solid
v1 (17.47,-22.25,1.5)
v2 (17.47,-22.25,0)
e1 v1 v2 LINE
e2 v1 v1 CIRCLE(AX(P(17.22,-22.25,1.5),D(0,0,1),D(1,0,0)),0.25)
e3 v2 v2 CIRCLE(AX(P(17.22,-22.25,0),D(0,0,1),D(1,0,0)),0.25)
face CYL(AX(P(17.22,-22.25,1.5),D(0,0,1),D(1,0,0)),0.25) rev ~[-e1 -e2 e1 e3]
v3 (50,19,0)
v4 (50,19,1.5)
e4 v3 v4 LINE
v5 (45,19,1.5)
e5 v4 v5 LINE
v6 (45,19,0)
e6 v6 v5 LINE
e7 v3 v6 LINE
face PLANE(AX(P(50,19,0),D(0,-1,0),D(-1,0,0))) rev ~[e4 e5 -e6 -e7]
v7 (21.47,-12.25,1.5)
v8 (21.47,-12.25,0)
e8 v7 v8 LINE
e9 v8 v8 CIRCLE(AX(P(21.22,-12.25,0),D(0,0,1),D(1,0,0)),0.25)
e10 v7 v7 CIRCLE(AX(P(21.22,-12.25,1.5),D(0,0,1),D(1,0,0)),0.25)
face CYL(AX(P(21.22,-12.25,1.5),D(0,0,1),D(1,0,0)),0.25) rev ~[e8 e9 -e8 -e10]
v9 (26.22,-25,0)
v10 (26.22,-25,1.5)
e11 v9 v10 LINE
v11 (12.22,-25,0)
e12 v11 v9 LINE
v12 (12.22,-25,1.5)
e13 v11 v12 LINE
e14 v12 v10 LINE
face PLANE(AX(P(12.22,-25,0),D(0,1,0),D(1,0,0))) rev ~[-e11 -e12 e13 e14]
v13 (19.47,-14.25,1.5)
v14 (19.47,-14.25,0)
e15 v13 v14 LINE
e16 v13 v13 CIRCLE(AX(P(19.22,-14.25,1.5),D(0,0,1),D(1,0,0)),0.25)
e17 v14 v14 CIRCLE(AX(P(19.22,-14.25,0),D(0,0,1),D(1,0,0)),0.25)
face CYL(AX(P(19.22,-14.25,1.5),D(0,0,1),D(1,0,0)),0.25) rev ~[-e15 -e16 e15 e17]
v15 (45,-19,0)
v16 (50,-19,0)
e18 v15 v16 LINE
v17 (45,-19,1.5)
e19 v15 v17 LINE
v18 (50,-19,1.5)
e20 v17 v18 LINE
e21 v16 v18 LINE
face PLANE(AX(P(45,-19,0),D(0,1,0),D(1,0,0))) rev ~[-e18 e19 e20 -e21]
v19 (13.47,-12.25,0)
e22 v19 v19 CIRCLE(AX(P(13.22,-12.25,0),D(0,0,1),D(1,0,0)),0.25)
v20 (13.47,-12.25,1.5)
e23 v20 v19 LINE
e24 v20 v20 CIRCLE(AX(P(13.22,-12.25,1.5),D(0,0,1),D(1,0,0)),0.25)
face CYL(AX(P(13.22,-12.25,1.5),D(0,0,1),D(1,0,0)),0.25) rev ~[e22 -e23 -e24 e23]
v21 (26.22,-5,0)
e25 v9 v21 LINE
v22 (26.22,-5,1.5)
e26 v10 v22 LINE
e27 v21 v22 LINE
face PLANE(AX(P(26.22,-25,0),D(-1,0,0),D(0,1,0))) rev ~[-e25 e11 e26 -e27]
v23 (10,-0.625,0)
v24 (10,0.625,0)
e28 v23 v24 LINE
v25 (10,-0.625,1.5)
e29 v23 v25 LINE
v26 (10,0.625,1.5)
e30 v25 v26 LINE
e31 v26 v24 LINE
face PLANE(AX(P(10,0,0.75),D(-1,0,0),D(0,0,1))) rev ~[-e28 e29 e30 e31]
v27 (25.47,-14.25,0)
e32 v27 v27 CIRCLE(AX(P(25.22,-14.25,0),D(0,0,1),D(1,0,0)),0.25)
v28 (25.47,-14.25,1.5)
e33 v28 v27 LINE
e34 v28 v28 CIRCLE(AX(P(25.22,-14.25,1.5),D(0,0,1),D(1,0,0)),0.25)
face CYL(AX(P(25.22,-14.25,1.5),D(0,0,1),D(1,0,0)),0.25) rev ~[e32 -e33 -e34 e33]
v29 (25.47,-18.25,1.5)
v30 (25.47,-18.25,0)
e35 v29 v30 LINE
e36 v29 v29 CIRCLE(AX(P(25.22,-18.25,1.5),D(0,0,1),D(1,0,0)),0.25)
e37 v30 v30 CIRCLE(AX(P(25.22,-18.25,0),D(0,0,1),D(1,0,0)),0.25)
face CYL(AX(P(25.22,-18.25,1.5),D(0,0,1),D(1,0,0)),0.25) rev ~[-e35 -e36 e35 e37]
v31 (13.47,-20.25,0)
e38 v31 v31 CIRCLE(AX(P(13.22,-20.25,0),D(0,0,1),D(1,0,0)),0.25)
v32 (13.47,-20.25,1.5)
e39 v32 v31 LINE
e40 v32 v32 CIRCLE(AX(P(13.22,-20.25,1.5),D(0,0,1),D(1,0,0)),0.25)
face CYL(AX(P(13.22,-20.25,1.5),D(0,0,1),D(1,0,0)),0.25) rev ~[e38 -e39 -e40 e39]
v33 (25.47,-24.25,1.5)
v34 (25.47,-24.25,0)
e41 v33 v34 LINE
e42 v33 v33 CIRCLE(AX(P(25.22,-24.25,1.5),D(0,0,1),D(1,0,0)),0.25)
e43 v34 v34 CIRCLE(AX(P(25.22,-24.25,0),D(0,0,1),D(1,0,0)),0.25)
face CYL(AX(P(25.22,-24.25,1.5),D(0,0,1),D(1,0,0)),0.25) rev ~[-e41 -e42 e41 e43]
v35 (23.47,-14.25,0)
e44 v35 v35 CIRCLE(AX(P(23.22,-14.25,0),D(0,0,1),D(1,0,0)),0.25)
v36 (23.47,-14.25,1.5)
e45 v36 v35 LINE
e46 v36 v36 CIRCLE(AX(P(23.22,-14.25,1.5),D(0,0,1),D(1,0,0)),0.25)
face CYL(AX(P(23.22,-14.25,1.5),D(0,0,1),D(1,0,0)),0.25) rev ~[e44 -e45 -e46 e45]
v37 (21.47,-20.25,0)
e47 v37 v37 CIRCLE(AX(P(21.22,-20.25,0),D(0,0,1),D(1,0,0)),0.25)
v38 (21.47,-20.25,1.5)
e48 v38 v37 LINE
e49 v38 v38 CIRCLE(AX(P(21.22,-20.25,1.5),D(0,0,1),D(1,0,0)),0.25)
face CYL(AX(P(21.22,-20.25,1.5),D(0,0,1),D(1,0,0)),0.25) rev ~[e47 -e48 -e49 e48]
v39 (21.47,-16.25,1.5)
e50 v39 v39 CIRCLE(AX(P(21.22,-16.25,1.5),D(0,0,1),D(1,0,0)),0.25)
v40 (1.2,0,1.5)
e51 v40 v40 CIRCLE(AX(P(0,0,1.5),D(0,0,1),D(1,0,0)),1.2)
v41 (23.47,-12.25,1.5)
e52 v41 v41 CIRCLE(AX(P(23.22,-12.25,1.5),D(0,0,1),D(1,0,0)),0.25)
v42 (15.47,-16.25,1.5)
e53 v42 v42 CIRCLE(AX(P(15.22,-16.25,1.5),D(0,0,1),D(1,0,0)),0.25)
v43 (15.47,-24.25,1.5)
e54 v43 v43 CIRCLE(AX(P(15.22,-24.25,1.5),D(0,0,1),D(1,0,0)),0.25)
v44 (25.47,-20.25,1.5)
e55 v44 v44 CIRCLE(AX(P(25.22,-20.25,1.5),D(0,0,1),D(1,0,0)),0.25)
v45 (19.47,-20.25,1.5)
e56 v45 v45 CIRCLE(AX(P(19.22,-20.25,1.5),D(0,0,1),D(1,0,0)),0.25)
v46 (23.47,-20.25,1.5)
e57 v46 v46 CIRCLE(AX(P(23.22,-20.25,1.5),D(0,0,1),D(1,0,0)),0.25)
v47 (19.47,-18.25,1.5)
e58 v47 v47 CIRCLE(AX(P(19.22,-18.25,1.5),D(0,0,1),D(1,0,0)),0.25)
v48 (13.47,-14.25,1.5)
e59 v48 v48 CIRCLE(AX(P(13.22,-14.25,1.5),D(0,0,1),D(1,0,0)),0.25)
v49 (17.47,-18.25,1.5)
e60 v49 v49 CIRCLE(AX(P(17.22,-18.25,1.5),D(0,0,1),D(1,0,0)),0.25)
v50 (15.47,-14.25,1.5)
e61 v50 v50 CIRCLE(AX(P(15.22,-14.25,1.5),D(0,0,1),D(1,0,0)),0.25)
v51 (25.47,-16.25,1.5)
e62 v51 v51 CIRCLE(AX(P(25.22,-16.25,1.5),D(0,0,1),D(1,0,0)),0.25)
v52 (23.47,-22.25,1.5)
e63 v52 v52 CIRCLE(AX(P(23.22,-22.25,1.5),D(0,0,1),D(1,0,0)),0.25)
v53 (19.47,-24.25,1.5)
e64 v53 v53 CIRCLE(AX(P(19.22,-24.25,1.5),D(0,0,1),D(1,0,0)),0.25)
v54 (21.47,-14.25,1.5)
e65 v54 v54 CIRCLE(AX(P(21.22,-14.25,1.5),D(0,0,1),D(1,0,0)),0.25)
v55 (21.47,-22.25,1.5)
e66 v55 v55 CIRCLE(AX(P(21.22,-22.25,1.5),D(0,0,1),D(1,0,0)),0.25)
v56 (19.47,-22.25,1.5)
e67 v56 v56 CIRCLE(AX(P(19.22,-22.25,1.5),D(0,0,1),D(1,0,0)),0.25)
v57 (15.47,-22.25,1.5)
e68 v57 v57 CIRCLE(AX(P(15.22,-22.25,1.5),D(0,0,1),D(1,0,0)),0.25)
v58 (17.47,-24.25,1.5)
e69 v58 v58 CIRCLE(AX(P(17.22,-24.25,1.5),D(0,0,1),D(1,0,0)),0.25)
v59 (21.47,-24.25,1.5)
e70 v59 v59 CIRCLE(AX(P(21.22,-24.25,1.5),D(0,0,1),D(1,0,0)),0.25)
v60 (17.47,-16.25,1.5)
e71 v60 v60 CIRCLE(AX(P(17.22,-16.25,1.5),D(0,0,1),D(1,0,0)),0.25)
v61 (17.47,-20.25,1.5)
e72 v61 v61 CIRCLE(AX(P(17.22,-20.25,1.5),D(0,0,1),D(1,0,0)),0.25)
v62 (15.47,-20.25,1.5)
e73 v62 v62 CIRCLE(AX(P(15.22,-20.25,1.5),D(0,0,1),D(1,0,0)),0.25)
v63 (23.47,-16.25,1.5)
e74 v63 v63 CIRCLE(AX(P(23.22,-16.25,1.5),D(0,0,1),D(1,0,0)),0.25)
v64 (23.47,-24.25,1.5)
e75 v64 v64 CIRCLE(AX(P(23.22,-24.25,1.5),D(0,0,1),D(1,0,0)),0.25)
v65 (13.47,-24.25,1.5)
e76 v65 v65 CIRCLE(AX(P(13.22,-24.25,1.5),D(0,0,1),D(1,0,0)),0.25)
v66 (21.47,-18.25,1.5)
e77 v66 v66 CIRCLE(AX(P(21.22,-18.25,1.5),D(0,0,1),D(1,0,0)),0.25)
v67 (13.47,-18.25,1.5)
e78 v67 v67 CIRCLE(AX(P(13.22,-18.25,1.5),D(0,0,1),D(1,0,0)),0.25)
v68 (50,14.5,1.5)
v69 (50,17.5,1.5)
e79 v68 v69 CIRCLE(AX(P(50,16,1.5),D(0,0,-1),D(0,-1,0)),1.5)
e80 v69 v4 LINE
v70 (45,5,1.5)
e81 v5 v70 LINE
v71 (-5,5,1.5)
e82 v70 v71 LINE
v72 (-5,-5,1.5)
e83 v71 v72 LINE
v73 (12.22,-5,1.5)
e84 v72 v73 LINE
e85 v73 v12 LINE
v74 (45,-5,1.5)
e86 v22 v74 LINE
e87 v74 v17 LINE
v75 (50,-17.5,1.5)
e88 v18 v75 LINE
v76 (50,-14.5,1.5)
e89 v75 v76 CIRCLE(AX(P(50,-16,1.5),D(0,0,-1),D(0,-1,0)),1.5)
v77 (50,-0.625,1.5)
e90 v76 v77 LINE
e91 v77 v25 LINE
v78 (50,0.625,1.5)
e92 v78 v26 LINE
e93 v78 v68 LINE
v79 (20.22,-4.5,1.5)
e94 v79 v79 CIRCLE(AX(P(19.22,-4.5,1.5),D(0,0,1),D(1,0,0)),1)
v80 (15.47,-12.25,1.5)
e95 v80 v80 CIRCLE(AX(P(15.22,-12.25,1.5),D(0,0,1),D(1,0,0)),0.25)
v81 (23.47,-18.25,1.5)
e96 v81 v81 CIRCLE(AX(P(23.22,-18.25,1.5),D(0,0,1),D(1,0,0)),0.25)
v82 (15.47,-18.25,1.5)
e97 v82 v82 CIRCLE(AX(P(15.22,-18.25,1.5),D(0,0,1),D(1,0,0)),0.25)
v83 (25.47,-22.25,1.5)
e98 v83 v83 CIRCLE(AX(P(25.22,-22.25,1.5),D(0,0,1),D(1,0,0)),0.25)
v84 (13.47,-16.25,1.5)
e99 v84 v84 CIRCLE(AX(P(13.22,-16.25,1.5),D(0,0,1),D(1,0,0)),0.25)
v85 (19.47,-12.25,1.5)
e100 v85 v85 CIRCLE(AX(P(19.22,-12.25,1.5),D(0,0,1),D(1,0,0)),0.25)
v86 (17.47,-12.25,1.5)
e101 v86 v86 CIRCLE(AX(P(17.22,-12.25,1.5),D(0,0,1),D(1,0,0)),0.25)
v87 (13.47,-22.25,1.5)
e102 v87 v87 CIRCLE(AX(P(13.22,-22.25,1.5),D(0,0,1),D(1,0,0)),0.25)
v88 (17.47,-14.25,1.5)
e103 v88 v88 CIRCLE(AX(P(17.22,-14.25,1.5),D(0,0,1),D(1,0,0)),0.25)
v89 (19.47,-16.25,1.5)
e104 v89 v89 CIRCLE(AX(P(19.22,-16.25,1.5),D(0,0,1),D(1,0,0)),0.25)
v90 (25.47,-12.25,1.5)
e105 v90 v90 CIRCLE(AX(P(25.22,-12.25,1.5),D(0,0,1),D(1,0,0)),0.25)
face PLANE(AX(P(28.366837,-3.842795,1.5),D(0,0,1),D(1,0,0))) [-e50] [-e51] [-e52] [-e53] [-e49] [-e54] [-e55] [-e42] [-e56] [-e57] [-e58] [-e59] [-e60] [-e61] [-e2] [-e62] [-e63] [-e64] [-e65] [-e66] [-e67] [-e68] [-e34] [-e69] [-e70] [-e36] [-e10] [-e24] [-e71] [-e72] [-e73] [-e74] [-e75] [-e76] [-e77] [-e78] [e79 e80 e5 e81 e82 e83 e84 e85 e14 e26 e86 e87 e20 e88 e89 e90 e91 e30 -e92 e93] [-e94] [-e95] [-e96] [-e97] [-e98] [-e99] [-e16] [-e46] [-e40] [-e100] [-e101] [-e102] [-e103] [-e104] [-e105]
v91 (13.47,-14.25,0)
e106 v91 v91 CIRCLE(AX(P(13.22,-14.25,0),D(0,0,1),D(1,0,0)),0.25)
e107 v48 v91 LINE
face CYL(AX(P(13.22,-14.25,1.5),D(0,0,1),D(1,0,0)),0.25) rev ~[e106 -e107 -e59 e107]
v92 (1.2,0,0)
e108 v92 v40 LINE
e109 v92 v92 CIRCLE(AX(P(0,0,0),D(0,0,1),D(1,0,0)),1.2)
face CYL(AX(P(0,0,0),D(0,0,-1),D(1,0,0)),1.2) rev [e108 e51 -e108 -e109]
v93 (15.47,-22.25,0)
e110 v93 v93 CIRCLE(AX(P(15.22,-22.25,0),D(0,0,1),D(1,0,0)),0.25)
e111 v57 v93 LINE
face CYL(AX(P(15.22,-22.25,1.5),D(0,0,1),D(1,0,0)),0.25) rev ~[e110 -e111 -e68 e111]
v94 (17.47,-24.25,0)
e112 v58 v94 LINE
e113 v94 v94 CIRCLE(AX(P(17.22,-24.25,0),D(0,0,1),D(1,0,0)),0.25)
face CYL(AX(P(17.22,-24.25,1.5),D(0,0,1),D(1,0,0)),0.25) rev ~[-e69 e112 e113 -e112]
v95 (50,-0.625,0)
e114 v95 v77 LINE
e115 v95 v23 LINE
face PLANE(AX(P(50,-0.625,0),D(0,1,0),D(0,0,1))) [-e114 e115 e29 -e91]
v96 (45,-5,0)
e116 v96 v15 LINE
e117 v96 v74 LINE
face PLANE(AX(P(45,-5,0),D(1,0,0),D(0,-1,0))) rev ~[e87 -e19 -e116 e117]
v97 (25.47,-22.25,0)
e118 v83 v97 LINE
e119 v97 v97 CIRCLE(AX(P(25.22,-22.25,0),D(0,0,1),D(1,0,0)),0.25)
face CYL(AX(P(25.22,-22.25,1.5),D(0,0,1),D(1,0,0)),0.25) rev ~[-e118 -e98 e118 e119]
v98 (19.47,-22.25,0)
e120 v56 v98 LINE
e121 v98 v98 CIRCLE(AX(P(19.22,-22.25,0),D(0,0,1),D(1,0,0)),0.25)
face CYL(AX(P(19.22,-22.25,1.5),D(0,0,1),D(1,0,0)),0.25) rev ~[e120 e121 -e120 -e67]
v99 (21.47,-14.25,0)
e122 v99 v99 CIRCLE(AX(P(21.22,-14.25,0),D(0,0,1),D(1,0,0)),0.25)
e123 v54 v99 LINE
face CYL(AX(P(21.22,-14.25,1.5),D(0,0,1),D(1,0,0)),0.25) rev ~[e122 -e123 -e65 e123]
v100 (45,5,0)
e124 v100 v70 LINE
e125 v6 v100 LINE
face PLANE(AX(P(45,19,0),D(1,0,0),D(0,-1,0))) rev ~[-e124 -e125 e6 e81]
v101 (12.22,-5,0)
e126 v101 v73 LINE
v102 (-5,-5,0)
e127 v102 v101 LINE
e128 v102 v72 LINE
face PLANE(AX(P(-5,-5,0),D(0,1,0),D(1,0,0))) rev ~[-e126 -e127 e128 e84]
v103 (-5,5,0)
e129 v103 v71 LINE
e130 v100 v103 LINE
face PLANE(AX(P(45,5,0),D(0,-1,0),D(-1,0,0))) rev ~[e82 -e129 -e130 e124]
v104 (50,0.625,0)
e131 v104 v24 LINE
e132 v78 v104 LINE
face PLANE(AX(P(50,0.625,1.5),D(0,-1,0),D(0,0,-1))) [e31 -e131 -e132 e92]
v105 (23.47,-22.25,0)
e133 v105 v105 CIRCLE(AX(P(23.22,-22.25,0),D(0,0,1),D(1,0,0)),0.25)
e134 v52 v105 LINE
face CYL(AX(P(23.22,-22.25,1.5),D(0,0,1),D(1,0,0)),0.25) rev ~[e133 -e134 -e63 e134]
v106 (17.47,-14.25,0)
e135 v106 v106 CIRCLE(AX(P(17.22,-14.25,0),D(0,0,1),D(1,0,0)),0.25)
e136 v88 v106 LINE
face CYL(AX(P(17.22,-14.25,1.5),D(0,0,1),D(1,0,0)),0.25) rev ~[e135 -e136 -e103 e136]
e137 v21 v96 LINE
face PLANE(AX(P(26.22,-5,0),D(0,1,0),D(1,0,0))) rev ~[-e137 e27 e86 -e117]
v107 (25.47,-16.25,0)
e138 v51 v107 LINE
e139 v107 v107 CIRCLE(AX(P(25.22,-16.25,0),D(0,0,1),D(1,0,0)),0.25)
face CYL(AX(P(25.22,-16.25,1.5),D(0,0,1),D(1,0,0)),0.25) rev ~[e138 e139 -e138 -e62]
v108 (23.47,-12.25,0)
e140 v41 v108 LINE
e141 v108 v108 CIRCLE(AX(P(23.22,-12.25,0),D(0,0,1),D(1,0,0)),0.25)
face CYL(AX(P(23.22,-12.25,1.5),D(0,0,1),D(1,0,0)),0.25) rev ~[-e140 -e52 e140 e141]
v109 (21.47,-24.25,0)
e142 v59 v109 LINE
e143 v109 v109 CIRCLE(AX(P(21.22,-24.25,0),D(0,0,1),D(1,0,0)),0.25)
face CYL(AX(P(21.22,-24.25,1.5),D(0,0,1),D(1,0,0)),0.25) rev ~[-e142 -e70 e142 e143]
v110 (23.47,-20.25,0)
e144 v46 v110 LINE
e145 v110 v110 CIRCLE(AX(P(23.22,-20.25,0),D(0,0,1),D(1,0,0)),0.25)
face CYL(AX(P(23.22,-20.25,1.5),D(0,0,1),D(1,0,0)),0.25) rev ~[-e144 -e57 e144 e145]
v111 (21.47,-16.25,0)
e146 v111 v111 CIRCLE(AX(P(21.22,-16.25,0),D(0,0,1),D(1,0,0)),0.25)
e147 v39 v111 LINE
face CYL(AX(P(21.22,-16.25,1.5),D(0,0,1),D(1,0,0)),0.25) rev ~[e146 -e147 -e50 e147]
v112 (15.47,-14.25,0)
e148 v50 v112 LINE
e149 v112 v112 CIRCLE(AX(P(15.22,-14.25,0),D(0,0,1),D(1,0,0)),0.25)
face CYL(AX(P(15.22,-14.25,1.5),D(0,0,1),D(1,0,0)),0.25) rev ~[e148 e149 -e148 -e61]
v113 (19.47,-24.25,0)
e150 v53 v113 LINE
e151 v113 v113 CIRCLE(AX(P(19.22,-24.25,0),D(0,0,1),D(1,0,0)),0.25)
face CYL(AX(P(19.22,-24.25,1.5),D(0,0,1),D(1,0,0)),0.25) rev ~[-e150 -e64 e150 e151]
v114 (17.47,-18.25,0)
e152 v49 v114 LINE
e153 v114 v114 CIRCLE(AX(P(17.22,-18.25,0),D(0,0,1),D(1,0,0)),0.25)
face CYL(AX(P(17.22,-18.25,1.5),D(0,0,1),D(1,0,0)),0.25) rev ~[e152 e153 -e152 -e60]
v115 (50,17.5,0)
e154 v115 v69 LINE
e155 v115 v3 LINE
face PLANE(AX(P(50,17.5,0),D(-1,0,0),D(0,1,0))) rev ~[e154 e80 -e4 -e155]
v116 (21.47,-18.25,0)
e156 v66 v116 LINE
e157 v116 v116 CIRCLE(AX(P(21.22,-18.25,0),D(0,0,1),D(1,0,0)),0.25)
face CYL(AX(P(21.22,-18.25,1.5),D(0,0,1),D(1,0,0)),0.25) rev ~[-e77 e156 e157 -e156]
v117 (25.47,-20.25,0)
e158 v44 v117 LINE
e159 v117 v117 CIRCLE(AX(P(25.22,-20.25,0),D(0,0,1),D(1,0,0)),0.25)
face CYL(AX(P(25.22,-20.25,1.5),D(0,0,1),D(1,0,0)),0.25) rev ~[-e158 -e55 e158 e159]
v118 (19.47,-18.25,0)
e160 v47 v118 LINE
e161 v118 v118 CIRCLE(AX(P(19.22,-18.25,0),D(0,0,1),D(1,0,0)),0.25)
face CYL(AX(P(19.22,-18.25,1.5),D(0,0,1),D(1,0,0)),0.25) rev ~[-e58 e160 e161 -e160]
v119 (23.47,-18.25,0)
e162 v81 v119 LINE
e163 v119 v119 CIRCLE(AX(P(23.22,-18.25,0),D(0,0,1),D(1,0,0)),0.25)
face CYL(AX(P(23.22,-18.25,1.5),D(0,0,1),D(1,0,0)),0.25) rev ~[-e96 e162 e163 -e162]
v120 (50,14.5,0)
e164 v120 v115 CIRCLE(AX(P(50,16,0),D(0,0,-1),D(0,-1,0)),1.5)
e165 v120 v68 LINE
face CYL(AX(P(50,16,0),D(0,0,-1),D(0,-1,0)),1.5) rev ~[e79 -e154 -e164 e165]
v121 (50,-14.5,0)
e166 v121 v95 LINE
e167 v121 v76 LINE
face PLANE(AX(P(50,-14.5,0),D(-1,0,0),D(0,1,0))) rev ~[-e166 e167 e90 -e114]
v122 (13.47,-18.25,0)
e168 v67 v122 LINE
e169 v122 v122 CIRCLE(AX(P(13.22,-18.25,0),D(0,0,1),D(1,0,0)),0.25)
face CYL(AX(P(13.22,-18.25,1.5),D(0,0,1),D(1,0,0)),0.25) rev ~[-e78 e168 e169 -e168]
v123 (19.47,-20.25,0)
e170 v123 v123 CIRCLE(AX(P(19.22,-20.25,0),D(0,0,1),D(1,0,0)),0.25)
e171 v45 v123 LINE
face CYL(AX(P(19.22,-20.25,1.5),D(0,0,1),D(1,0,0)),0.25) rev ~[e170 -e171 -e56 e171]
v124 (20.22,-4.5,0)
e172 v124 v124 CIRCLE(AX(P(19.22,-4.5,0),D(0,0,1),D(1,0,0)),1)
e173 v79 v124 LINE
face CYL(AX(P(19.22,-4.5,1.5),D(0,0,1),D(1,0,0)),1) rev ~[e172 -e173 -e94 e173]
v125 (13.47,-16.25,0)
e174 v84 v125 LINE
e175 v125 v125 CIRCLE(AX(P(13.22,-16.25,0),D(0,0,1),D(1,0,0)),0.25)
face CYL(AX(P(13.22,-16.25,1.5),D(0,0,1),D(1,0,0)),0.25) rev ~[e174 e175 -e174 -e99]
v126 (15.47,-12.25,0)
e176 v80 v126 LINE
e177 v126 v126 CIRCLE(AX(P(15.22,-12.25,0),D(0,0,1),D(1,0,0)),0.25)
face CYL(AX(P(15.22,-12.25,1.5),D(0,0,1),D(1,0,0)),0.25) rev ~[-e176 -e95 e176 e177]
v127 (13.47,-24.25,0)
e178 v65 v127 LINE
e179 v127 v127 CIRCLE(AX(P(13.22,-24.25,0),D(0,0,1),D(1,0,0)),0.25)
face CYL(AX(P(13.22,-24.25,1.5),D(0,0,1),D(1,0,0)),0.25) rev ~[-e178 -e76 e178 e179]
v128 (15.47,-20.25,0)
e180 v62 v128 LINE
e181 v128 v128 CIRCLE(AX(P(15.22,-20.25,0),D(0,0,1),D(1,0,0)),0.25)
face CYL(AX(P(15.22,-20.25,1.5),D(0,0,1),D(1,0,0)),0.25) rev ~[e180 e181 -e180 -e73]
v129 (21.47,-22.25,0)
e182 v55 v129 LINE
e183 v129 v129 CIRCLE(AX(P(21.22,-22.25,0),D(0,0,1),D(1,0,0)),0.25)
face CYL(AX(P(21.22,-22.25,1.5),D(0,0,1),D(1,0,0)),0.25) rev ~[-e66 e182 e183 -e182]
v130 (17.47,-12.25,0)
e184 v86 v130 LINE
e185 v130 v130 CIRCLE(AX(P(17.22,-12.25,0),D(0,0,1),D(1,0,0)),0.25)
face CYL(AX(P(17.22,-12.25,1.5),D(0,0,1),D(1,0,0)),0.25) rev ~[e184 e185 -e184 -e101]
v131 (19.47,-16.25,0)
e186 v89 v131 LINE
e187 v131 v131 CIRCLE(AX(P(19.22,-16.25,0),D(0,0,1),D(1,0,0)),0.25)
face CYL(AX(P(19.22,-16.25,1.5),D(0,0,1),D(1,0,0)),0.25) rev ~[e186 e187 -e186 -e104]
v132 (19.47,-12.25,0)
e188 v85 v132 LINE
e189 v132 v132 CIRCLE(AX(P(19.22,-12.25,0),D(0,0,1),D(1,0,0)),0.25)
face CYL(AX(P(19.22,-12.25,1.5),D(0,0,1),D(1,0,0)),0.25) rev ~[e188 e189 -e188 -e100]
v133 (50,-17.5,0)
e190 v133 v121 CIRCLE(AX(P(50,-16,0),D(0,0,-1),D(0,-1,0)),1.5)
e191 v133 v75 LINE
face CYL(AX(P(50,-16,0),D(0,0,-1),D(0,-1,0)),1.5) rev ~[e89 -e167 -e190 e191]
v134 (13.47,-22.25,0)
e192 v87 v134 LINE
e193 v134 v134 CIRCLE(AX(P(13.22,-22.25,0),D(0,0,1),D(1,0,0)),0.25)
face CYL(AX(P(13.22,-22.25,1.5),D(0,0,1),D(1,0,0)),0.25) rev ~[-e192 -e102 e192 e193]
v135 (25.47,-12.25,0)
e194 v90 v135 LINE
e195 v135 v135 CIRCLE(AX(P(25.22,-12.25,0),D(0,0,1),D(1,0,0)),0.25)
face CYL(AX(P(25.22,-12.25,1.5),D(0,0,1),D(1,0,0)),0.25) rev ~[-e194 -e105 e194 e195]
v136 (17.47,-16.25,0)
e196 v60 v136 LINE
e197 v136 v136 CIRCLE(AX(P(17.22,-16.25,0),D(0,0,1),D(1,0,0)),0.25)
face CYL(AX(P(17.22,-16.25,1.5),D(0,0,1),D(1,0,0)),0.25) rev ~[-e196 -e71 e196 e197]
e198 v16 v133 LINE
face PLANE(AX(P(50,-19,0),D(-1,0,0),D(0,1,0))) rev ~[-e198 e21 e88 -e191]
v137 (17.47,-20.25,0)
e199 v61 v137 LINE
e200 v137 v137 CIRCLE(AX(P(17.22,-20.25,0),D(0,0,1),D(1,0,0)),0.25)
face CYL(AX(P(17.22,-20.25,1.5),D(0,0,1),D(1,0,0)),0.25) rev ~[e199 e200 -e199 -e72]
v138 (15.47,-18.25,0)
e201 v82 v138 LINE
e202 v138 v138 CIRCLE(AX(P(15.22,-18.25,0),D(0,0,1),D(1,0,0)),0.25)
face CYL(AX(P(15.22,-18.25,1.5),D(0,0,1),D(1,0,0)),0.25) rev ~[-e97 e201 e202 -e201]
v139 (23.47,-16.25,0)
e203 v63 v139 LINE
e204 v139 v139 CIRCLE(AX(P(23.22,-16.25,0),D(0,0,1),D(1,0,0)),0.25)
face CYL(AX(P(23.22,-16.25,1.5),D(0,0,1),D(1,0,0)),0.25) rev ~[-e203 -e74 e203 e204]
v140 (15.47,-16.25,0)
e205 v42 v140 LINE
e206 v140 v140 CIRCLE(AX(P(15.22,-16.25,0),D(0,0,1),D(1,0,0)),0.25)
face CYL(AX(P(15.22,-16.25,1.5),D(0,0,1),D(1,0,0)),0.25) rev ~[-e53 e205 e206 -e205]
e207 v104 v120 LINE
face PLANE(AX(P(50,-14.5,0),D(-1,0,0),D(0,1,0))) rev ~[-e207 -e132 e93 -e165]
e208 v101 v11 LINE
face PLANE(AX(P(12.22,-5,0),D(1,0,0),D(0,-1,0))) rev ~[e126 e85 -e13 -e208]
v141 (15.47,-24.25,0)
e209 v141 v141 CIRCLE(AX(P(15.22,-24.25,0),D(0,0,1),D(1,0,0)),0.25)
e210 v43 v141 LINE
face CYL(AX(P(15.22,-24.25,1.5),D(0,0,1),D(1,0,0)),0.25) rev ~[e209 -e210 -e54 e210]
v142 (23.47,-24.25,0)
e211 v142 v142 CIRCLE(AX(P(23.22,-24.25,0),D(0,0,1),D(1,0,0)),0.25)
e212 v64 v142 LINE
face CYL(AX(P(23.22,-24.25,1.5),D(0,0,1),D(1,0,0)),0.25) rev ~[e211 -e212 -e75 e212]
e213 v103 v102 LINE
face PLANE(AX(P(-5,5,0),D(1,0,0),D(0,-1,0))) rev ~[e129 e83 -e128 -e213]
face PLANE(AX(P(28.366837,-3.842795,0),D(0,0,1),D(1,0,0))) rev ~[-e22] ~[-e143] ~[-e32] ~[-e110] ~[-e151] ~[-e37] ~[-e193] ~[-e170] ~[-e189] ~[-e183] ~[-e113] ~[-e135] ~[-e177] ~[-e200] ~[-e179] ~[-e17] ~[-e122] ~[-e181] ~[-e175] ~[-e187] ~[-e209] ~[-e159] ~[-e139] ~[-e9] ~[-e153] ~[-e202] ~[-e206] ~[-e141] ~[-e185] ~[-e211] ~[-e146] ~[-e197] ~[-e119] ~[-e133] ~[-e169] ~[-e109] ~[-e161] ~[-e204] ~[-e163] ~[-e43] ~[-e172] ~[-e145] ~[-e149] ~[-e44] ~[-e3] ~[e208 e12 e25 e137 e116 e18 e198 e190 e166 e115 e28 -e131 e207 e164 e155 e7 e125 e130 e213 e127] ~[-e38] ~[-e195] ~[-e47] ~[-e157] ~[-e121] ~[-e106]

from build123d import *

# Parameters (mm, degrees)
SKETCH1_R           = 1.2
BOSS_EXTRUDE1_DEPTH = 1.5
CUT_EXTRUDE2_DEPTH  = 40
SKETCH2_R           = 0.25
CUT_EXTRUDE4_DEPTH  = 1.5
SKETCH4_R           = 1
CUT_EXTRUDE5_DEPTH  = 1.5


with BuildPart() as part:
    # Sketch1 → Boss-Extrude1 (new body)
    with BuildSketch(Plane.XY):
        with BuildLine():
            ThreePointArc((50, -17.5), (48.5, -16), (50, -14.5))
            Line((50, -14.5), (50, 14.5))
            ThreePointArc((50, 14.5), (48.5, 16), (50, 17.5))
            Line((50, 17.5), (50, 19))
            Line((50, 19), (45, 19))
            Line((45, 19), (45, 5))
            Line((45, 5), (-5, 5))
            Line((-5, 5), (-5, 0))
            Line((-5, 0), (-5, -5))
            Line((-5, -5), (12.22, -5))
            Line((12.22, -5), (12.22, -25))
            Line((12.22, -25), (19.22, -25))
            Line((19.22, -25), (26.22, -25))
            Line((26.22, -25), (26.22, -5))
            Line((26.22, -5), (45, -5))
            Line((45, -5), (45, -19))
            Line((45, -19), (50, -19))
            Line((50, -19), (50, -17.5))
        make_face()
        Circle(SKETCH1_R, mode=Mode.SUBTRACT)
    extrude(amount=BOSS_EXTRUDE1_DEPTH)

    # Sketch3 → Cut-Extrude2 (cut)
    with BuildSketch(Plane(origin=(50, 0, 0), x_dir=(0, 0, -1), z_dir=(1, 0, 0))):
        Polygon((0, 0), (0, -0.625), (-1.5, -0.625), (-1.5, 0.625), (0, 0.625), align=None)
    extrude(amount=-CUT_EXTRUDE2_DEPTH, mode=Mode.SUBTRACT)

    # Sketch2 → Cut-Extrude4 (cut)
    with BuildSketch(Plane.XY.offset(1.5)):
        with Locations((21.22, -24.25)):
            Circle(SKETCH2_R)
        with Locations((19.22, -20.25)):
            Circle(SKETCH2_R)
        with Locations((21.22, -20.25)):
            Circle(SKETCH2_R)
        with Locations((23.22, -20.25)):
            Circle(SKETCH2_R)
        with Locations((23.22, -24.25)):
            Circle(SKETCH2_R)
        with Locations((25.22, -20.25)):
            Circle(SKETCH2_R)
        with Locations((25.22, -18.25)):
            Circle(SKETCH2_R)
        with Locations((23.22, -18.25)):
            Circle(SKETCH2_R)
        with Locations((23.22, -16.25)):
            Circle(SKETCH2_R)
        with Locations((15.22, -24.25)):
            Circle(SKETCH2_R)
        with Locations((21.22, -22.25)):
            Circle(SKETCH2_R)
        with Locations((19.22, -24.25)):
            Circle(SKETCH2_R)
        with Locations((19.22, -22.25)):
            Circle(SKETCH2_R)
        with Locations((19.22, -18.25)):
            Circle(SKETCH2_R)
        with Locations((19.22, -16.25)):
            Circle(SKETCH2_R)
        with Locations((19.22, -14.25)):
            Circle(SKETCH2_R)
        with Locations((19.22, -12.25)):
            Circle(SKETCH2_R)
        with Locations((21.22, -12.25)):
            Circle(SKETCH2_R)
        with Locations((21.22, -14.25)):
            Circle(SKETCH2_R)
        with Locations((21.22, -16.25)):
            Circle(SKETCH2_R)
        with Locations((21.22, -18.25)):
            Circle(SKETCH2_R)
        with Locations((23.22, -22.25)):
            Circle(SKETCH2_R)
        with Locations((25.22, -24.25)):
            Circle(SKETCH2_R)
        with Locations((25.22, -22.25)):
            Circle(SKETCH2_R)
        with Locations((25.22, -16.25)):
            Circle(SKETCH2_R)
        with Locations((23.22, -12.25)):
            Circle(SKETCH2_R)
        with Locations((25.22, -12.25)):
            Circle(SKETCH2_R)
        with Locations((23.22, -14.25)):
            Circle(SKETCH2_R)
        with Locations((25.22, -14.25)):
            Circle(SKETCH2_R)
        with Locations((17.22, -24.25)):
            Circle(SKETCH2_R)
        with Locations((17.22, -22.25)):
            Circle(SKETCH2_R)
        with Locations((17.22, -20.25)):
            Circle(SKETCH2_R)
        with Locations((17.22, -18.25)):
            Circle(SKETCH2_R)
        with Locations((17.22, -16.25)):
            Circle(SKETCH2_R)
        with Locations((17.22, -14.25)):
            Circle(SKETCH2_R)
        with Locations((17.22, -12.25)):
            Circle(SKETCH2_R)
        with Locations((15.22, -22.25)):
            Circle(SKETCH2_R)
        with Locations((15.22, -20.25)):
            Circle(SKETCH2_R)
        with Locations((15.22, -18.25)):
            Circle(SKETCH2_R)
        with Locations((15.22, -16.25)):
            Circle(SKETCH2_R)
        with Locations((15.22, -14.25)):
            Circle(SKETCH2_R)
        with Locations((15.22, -12.25)):
            Circle(SKETCH2_R)
        with Locations((13.22, -12.25)):
            Circle(SKETCH2_R)
        with Locations((13.22, -14.25)):
            Circle(SKETCH2_R)
        with Locations((13.22, -16.25)):
            Circle(SKETCH2_R)
        with Locations((13.22, -18.25)):
            Circle(SKETCH2_R)
        with Locations((13.22, -20.25)):
            Circle(SKETCH2_R)
        with Locations((13.22, -22.25)):
            Circle(SKETCH2_R)
        with Locations((13.22, -24.25)):
            Circle(SKETCH2_R)
    extrude(amount=-CUT_EXTRUDE4_DEPTH, mode=Mode.SUBTRACT)

    # Sketch4 → Cut-Extrude5 (cut)
    with BuildSketch(Plane.XY.offset(1.5)):
        with Locations((19.22, -4.5)):
            Circle(SKETCH4_R)
    extrude(amount=-CUT_EXTRUDE5_DEPTH, mode=Mode.SUBTRACT)


solid = part.part
